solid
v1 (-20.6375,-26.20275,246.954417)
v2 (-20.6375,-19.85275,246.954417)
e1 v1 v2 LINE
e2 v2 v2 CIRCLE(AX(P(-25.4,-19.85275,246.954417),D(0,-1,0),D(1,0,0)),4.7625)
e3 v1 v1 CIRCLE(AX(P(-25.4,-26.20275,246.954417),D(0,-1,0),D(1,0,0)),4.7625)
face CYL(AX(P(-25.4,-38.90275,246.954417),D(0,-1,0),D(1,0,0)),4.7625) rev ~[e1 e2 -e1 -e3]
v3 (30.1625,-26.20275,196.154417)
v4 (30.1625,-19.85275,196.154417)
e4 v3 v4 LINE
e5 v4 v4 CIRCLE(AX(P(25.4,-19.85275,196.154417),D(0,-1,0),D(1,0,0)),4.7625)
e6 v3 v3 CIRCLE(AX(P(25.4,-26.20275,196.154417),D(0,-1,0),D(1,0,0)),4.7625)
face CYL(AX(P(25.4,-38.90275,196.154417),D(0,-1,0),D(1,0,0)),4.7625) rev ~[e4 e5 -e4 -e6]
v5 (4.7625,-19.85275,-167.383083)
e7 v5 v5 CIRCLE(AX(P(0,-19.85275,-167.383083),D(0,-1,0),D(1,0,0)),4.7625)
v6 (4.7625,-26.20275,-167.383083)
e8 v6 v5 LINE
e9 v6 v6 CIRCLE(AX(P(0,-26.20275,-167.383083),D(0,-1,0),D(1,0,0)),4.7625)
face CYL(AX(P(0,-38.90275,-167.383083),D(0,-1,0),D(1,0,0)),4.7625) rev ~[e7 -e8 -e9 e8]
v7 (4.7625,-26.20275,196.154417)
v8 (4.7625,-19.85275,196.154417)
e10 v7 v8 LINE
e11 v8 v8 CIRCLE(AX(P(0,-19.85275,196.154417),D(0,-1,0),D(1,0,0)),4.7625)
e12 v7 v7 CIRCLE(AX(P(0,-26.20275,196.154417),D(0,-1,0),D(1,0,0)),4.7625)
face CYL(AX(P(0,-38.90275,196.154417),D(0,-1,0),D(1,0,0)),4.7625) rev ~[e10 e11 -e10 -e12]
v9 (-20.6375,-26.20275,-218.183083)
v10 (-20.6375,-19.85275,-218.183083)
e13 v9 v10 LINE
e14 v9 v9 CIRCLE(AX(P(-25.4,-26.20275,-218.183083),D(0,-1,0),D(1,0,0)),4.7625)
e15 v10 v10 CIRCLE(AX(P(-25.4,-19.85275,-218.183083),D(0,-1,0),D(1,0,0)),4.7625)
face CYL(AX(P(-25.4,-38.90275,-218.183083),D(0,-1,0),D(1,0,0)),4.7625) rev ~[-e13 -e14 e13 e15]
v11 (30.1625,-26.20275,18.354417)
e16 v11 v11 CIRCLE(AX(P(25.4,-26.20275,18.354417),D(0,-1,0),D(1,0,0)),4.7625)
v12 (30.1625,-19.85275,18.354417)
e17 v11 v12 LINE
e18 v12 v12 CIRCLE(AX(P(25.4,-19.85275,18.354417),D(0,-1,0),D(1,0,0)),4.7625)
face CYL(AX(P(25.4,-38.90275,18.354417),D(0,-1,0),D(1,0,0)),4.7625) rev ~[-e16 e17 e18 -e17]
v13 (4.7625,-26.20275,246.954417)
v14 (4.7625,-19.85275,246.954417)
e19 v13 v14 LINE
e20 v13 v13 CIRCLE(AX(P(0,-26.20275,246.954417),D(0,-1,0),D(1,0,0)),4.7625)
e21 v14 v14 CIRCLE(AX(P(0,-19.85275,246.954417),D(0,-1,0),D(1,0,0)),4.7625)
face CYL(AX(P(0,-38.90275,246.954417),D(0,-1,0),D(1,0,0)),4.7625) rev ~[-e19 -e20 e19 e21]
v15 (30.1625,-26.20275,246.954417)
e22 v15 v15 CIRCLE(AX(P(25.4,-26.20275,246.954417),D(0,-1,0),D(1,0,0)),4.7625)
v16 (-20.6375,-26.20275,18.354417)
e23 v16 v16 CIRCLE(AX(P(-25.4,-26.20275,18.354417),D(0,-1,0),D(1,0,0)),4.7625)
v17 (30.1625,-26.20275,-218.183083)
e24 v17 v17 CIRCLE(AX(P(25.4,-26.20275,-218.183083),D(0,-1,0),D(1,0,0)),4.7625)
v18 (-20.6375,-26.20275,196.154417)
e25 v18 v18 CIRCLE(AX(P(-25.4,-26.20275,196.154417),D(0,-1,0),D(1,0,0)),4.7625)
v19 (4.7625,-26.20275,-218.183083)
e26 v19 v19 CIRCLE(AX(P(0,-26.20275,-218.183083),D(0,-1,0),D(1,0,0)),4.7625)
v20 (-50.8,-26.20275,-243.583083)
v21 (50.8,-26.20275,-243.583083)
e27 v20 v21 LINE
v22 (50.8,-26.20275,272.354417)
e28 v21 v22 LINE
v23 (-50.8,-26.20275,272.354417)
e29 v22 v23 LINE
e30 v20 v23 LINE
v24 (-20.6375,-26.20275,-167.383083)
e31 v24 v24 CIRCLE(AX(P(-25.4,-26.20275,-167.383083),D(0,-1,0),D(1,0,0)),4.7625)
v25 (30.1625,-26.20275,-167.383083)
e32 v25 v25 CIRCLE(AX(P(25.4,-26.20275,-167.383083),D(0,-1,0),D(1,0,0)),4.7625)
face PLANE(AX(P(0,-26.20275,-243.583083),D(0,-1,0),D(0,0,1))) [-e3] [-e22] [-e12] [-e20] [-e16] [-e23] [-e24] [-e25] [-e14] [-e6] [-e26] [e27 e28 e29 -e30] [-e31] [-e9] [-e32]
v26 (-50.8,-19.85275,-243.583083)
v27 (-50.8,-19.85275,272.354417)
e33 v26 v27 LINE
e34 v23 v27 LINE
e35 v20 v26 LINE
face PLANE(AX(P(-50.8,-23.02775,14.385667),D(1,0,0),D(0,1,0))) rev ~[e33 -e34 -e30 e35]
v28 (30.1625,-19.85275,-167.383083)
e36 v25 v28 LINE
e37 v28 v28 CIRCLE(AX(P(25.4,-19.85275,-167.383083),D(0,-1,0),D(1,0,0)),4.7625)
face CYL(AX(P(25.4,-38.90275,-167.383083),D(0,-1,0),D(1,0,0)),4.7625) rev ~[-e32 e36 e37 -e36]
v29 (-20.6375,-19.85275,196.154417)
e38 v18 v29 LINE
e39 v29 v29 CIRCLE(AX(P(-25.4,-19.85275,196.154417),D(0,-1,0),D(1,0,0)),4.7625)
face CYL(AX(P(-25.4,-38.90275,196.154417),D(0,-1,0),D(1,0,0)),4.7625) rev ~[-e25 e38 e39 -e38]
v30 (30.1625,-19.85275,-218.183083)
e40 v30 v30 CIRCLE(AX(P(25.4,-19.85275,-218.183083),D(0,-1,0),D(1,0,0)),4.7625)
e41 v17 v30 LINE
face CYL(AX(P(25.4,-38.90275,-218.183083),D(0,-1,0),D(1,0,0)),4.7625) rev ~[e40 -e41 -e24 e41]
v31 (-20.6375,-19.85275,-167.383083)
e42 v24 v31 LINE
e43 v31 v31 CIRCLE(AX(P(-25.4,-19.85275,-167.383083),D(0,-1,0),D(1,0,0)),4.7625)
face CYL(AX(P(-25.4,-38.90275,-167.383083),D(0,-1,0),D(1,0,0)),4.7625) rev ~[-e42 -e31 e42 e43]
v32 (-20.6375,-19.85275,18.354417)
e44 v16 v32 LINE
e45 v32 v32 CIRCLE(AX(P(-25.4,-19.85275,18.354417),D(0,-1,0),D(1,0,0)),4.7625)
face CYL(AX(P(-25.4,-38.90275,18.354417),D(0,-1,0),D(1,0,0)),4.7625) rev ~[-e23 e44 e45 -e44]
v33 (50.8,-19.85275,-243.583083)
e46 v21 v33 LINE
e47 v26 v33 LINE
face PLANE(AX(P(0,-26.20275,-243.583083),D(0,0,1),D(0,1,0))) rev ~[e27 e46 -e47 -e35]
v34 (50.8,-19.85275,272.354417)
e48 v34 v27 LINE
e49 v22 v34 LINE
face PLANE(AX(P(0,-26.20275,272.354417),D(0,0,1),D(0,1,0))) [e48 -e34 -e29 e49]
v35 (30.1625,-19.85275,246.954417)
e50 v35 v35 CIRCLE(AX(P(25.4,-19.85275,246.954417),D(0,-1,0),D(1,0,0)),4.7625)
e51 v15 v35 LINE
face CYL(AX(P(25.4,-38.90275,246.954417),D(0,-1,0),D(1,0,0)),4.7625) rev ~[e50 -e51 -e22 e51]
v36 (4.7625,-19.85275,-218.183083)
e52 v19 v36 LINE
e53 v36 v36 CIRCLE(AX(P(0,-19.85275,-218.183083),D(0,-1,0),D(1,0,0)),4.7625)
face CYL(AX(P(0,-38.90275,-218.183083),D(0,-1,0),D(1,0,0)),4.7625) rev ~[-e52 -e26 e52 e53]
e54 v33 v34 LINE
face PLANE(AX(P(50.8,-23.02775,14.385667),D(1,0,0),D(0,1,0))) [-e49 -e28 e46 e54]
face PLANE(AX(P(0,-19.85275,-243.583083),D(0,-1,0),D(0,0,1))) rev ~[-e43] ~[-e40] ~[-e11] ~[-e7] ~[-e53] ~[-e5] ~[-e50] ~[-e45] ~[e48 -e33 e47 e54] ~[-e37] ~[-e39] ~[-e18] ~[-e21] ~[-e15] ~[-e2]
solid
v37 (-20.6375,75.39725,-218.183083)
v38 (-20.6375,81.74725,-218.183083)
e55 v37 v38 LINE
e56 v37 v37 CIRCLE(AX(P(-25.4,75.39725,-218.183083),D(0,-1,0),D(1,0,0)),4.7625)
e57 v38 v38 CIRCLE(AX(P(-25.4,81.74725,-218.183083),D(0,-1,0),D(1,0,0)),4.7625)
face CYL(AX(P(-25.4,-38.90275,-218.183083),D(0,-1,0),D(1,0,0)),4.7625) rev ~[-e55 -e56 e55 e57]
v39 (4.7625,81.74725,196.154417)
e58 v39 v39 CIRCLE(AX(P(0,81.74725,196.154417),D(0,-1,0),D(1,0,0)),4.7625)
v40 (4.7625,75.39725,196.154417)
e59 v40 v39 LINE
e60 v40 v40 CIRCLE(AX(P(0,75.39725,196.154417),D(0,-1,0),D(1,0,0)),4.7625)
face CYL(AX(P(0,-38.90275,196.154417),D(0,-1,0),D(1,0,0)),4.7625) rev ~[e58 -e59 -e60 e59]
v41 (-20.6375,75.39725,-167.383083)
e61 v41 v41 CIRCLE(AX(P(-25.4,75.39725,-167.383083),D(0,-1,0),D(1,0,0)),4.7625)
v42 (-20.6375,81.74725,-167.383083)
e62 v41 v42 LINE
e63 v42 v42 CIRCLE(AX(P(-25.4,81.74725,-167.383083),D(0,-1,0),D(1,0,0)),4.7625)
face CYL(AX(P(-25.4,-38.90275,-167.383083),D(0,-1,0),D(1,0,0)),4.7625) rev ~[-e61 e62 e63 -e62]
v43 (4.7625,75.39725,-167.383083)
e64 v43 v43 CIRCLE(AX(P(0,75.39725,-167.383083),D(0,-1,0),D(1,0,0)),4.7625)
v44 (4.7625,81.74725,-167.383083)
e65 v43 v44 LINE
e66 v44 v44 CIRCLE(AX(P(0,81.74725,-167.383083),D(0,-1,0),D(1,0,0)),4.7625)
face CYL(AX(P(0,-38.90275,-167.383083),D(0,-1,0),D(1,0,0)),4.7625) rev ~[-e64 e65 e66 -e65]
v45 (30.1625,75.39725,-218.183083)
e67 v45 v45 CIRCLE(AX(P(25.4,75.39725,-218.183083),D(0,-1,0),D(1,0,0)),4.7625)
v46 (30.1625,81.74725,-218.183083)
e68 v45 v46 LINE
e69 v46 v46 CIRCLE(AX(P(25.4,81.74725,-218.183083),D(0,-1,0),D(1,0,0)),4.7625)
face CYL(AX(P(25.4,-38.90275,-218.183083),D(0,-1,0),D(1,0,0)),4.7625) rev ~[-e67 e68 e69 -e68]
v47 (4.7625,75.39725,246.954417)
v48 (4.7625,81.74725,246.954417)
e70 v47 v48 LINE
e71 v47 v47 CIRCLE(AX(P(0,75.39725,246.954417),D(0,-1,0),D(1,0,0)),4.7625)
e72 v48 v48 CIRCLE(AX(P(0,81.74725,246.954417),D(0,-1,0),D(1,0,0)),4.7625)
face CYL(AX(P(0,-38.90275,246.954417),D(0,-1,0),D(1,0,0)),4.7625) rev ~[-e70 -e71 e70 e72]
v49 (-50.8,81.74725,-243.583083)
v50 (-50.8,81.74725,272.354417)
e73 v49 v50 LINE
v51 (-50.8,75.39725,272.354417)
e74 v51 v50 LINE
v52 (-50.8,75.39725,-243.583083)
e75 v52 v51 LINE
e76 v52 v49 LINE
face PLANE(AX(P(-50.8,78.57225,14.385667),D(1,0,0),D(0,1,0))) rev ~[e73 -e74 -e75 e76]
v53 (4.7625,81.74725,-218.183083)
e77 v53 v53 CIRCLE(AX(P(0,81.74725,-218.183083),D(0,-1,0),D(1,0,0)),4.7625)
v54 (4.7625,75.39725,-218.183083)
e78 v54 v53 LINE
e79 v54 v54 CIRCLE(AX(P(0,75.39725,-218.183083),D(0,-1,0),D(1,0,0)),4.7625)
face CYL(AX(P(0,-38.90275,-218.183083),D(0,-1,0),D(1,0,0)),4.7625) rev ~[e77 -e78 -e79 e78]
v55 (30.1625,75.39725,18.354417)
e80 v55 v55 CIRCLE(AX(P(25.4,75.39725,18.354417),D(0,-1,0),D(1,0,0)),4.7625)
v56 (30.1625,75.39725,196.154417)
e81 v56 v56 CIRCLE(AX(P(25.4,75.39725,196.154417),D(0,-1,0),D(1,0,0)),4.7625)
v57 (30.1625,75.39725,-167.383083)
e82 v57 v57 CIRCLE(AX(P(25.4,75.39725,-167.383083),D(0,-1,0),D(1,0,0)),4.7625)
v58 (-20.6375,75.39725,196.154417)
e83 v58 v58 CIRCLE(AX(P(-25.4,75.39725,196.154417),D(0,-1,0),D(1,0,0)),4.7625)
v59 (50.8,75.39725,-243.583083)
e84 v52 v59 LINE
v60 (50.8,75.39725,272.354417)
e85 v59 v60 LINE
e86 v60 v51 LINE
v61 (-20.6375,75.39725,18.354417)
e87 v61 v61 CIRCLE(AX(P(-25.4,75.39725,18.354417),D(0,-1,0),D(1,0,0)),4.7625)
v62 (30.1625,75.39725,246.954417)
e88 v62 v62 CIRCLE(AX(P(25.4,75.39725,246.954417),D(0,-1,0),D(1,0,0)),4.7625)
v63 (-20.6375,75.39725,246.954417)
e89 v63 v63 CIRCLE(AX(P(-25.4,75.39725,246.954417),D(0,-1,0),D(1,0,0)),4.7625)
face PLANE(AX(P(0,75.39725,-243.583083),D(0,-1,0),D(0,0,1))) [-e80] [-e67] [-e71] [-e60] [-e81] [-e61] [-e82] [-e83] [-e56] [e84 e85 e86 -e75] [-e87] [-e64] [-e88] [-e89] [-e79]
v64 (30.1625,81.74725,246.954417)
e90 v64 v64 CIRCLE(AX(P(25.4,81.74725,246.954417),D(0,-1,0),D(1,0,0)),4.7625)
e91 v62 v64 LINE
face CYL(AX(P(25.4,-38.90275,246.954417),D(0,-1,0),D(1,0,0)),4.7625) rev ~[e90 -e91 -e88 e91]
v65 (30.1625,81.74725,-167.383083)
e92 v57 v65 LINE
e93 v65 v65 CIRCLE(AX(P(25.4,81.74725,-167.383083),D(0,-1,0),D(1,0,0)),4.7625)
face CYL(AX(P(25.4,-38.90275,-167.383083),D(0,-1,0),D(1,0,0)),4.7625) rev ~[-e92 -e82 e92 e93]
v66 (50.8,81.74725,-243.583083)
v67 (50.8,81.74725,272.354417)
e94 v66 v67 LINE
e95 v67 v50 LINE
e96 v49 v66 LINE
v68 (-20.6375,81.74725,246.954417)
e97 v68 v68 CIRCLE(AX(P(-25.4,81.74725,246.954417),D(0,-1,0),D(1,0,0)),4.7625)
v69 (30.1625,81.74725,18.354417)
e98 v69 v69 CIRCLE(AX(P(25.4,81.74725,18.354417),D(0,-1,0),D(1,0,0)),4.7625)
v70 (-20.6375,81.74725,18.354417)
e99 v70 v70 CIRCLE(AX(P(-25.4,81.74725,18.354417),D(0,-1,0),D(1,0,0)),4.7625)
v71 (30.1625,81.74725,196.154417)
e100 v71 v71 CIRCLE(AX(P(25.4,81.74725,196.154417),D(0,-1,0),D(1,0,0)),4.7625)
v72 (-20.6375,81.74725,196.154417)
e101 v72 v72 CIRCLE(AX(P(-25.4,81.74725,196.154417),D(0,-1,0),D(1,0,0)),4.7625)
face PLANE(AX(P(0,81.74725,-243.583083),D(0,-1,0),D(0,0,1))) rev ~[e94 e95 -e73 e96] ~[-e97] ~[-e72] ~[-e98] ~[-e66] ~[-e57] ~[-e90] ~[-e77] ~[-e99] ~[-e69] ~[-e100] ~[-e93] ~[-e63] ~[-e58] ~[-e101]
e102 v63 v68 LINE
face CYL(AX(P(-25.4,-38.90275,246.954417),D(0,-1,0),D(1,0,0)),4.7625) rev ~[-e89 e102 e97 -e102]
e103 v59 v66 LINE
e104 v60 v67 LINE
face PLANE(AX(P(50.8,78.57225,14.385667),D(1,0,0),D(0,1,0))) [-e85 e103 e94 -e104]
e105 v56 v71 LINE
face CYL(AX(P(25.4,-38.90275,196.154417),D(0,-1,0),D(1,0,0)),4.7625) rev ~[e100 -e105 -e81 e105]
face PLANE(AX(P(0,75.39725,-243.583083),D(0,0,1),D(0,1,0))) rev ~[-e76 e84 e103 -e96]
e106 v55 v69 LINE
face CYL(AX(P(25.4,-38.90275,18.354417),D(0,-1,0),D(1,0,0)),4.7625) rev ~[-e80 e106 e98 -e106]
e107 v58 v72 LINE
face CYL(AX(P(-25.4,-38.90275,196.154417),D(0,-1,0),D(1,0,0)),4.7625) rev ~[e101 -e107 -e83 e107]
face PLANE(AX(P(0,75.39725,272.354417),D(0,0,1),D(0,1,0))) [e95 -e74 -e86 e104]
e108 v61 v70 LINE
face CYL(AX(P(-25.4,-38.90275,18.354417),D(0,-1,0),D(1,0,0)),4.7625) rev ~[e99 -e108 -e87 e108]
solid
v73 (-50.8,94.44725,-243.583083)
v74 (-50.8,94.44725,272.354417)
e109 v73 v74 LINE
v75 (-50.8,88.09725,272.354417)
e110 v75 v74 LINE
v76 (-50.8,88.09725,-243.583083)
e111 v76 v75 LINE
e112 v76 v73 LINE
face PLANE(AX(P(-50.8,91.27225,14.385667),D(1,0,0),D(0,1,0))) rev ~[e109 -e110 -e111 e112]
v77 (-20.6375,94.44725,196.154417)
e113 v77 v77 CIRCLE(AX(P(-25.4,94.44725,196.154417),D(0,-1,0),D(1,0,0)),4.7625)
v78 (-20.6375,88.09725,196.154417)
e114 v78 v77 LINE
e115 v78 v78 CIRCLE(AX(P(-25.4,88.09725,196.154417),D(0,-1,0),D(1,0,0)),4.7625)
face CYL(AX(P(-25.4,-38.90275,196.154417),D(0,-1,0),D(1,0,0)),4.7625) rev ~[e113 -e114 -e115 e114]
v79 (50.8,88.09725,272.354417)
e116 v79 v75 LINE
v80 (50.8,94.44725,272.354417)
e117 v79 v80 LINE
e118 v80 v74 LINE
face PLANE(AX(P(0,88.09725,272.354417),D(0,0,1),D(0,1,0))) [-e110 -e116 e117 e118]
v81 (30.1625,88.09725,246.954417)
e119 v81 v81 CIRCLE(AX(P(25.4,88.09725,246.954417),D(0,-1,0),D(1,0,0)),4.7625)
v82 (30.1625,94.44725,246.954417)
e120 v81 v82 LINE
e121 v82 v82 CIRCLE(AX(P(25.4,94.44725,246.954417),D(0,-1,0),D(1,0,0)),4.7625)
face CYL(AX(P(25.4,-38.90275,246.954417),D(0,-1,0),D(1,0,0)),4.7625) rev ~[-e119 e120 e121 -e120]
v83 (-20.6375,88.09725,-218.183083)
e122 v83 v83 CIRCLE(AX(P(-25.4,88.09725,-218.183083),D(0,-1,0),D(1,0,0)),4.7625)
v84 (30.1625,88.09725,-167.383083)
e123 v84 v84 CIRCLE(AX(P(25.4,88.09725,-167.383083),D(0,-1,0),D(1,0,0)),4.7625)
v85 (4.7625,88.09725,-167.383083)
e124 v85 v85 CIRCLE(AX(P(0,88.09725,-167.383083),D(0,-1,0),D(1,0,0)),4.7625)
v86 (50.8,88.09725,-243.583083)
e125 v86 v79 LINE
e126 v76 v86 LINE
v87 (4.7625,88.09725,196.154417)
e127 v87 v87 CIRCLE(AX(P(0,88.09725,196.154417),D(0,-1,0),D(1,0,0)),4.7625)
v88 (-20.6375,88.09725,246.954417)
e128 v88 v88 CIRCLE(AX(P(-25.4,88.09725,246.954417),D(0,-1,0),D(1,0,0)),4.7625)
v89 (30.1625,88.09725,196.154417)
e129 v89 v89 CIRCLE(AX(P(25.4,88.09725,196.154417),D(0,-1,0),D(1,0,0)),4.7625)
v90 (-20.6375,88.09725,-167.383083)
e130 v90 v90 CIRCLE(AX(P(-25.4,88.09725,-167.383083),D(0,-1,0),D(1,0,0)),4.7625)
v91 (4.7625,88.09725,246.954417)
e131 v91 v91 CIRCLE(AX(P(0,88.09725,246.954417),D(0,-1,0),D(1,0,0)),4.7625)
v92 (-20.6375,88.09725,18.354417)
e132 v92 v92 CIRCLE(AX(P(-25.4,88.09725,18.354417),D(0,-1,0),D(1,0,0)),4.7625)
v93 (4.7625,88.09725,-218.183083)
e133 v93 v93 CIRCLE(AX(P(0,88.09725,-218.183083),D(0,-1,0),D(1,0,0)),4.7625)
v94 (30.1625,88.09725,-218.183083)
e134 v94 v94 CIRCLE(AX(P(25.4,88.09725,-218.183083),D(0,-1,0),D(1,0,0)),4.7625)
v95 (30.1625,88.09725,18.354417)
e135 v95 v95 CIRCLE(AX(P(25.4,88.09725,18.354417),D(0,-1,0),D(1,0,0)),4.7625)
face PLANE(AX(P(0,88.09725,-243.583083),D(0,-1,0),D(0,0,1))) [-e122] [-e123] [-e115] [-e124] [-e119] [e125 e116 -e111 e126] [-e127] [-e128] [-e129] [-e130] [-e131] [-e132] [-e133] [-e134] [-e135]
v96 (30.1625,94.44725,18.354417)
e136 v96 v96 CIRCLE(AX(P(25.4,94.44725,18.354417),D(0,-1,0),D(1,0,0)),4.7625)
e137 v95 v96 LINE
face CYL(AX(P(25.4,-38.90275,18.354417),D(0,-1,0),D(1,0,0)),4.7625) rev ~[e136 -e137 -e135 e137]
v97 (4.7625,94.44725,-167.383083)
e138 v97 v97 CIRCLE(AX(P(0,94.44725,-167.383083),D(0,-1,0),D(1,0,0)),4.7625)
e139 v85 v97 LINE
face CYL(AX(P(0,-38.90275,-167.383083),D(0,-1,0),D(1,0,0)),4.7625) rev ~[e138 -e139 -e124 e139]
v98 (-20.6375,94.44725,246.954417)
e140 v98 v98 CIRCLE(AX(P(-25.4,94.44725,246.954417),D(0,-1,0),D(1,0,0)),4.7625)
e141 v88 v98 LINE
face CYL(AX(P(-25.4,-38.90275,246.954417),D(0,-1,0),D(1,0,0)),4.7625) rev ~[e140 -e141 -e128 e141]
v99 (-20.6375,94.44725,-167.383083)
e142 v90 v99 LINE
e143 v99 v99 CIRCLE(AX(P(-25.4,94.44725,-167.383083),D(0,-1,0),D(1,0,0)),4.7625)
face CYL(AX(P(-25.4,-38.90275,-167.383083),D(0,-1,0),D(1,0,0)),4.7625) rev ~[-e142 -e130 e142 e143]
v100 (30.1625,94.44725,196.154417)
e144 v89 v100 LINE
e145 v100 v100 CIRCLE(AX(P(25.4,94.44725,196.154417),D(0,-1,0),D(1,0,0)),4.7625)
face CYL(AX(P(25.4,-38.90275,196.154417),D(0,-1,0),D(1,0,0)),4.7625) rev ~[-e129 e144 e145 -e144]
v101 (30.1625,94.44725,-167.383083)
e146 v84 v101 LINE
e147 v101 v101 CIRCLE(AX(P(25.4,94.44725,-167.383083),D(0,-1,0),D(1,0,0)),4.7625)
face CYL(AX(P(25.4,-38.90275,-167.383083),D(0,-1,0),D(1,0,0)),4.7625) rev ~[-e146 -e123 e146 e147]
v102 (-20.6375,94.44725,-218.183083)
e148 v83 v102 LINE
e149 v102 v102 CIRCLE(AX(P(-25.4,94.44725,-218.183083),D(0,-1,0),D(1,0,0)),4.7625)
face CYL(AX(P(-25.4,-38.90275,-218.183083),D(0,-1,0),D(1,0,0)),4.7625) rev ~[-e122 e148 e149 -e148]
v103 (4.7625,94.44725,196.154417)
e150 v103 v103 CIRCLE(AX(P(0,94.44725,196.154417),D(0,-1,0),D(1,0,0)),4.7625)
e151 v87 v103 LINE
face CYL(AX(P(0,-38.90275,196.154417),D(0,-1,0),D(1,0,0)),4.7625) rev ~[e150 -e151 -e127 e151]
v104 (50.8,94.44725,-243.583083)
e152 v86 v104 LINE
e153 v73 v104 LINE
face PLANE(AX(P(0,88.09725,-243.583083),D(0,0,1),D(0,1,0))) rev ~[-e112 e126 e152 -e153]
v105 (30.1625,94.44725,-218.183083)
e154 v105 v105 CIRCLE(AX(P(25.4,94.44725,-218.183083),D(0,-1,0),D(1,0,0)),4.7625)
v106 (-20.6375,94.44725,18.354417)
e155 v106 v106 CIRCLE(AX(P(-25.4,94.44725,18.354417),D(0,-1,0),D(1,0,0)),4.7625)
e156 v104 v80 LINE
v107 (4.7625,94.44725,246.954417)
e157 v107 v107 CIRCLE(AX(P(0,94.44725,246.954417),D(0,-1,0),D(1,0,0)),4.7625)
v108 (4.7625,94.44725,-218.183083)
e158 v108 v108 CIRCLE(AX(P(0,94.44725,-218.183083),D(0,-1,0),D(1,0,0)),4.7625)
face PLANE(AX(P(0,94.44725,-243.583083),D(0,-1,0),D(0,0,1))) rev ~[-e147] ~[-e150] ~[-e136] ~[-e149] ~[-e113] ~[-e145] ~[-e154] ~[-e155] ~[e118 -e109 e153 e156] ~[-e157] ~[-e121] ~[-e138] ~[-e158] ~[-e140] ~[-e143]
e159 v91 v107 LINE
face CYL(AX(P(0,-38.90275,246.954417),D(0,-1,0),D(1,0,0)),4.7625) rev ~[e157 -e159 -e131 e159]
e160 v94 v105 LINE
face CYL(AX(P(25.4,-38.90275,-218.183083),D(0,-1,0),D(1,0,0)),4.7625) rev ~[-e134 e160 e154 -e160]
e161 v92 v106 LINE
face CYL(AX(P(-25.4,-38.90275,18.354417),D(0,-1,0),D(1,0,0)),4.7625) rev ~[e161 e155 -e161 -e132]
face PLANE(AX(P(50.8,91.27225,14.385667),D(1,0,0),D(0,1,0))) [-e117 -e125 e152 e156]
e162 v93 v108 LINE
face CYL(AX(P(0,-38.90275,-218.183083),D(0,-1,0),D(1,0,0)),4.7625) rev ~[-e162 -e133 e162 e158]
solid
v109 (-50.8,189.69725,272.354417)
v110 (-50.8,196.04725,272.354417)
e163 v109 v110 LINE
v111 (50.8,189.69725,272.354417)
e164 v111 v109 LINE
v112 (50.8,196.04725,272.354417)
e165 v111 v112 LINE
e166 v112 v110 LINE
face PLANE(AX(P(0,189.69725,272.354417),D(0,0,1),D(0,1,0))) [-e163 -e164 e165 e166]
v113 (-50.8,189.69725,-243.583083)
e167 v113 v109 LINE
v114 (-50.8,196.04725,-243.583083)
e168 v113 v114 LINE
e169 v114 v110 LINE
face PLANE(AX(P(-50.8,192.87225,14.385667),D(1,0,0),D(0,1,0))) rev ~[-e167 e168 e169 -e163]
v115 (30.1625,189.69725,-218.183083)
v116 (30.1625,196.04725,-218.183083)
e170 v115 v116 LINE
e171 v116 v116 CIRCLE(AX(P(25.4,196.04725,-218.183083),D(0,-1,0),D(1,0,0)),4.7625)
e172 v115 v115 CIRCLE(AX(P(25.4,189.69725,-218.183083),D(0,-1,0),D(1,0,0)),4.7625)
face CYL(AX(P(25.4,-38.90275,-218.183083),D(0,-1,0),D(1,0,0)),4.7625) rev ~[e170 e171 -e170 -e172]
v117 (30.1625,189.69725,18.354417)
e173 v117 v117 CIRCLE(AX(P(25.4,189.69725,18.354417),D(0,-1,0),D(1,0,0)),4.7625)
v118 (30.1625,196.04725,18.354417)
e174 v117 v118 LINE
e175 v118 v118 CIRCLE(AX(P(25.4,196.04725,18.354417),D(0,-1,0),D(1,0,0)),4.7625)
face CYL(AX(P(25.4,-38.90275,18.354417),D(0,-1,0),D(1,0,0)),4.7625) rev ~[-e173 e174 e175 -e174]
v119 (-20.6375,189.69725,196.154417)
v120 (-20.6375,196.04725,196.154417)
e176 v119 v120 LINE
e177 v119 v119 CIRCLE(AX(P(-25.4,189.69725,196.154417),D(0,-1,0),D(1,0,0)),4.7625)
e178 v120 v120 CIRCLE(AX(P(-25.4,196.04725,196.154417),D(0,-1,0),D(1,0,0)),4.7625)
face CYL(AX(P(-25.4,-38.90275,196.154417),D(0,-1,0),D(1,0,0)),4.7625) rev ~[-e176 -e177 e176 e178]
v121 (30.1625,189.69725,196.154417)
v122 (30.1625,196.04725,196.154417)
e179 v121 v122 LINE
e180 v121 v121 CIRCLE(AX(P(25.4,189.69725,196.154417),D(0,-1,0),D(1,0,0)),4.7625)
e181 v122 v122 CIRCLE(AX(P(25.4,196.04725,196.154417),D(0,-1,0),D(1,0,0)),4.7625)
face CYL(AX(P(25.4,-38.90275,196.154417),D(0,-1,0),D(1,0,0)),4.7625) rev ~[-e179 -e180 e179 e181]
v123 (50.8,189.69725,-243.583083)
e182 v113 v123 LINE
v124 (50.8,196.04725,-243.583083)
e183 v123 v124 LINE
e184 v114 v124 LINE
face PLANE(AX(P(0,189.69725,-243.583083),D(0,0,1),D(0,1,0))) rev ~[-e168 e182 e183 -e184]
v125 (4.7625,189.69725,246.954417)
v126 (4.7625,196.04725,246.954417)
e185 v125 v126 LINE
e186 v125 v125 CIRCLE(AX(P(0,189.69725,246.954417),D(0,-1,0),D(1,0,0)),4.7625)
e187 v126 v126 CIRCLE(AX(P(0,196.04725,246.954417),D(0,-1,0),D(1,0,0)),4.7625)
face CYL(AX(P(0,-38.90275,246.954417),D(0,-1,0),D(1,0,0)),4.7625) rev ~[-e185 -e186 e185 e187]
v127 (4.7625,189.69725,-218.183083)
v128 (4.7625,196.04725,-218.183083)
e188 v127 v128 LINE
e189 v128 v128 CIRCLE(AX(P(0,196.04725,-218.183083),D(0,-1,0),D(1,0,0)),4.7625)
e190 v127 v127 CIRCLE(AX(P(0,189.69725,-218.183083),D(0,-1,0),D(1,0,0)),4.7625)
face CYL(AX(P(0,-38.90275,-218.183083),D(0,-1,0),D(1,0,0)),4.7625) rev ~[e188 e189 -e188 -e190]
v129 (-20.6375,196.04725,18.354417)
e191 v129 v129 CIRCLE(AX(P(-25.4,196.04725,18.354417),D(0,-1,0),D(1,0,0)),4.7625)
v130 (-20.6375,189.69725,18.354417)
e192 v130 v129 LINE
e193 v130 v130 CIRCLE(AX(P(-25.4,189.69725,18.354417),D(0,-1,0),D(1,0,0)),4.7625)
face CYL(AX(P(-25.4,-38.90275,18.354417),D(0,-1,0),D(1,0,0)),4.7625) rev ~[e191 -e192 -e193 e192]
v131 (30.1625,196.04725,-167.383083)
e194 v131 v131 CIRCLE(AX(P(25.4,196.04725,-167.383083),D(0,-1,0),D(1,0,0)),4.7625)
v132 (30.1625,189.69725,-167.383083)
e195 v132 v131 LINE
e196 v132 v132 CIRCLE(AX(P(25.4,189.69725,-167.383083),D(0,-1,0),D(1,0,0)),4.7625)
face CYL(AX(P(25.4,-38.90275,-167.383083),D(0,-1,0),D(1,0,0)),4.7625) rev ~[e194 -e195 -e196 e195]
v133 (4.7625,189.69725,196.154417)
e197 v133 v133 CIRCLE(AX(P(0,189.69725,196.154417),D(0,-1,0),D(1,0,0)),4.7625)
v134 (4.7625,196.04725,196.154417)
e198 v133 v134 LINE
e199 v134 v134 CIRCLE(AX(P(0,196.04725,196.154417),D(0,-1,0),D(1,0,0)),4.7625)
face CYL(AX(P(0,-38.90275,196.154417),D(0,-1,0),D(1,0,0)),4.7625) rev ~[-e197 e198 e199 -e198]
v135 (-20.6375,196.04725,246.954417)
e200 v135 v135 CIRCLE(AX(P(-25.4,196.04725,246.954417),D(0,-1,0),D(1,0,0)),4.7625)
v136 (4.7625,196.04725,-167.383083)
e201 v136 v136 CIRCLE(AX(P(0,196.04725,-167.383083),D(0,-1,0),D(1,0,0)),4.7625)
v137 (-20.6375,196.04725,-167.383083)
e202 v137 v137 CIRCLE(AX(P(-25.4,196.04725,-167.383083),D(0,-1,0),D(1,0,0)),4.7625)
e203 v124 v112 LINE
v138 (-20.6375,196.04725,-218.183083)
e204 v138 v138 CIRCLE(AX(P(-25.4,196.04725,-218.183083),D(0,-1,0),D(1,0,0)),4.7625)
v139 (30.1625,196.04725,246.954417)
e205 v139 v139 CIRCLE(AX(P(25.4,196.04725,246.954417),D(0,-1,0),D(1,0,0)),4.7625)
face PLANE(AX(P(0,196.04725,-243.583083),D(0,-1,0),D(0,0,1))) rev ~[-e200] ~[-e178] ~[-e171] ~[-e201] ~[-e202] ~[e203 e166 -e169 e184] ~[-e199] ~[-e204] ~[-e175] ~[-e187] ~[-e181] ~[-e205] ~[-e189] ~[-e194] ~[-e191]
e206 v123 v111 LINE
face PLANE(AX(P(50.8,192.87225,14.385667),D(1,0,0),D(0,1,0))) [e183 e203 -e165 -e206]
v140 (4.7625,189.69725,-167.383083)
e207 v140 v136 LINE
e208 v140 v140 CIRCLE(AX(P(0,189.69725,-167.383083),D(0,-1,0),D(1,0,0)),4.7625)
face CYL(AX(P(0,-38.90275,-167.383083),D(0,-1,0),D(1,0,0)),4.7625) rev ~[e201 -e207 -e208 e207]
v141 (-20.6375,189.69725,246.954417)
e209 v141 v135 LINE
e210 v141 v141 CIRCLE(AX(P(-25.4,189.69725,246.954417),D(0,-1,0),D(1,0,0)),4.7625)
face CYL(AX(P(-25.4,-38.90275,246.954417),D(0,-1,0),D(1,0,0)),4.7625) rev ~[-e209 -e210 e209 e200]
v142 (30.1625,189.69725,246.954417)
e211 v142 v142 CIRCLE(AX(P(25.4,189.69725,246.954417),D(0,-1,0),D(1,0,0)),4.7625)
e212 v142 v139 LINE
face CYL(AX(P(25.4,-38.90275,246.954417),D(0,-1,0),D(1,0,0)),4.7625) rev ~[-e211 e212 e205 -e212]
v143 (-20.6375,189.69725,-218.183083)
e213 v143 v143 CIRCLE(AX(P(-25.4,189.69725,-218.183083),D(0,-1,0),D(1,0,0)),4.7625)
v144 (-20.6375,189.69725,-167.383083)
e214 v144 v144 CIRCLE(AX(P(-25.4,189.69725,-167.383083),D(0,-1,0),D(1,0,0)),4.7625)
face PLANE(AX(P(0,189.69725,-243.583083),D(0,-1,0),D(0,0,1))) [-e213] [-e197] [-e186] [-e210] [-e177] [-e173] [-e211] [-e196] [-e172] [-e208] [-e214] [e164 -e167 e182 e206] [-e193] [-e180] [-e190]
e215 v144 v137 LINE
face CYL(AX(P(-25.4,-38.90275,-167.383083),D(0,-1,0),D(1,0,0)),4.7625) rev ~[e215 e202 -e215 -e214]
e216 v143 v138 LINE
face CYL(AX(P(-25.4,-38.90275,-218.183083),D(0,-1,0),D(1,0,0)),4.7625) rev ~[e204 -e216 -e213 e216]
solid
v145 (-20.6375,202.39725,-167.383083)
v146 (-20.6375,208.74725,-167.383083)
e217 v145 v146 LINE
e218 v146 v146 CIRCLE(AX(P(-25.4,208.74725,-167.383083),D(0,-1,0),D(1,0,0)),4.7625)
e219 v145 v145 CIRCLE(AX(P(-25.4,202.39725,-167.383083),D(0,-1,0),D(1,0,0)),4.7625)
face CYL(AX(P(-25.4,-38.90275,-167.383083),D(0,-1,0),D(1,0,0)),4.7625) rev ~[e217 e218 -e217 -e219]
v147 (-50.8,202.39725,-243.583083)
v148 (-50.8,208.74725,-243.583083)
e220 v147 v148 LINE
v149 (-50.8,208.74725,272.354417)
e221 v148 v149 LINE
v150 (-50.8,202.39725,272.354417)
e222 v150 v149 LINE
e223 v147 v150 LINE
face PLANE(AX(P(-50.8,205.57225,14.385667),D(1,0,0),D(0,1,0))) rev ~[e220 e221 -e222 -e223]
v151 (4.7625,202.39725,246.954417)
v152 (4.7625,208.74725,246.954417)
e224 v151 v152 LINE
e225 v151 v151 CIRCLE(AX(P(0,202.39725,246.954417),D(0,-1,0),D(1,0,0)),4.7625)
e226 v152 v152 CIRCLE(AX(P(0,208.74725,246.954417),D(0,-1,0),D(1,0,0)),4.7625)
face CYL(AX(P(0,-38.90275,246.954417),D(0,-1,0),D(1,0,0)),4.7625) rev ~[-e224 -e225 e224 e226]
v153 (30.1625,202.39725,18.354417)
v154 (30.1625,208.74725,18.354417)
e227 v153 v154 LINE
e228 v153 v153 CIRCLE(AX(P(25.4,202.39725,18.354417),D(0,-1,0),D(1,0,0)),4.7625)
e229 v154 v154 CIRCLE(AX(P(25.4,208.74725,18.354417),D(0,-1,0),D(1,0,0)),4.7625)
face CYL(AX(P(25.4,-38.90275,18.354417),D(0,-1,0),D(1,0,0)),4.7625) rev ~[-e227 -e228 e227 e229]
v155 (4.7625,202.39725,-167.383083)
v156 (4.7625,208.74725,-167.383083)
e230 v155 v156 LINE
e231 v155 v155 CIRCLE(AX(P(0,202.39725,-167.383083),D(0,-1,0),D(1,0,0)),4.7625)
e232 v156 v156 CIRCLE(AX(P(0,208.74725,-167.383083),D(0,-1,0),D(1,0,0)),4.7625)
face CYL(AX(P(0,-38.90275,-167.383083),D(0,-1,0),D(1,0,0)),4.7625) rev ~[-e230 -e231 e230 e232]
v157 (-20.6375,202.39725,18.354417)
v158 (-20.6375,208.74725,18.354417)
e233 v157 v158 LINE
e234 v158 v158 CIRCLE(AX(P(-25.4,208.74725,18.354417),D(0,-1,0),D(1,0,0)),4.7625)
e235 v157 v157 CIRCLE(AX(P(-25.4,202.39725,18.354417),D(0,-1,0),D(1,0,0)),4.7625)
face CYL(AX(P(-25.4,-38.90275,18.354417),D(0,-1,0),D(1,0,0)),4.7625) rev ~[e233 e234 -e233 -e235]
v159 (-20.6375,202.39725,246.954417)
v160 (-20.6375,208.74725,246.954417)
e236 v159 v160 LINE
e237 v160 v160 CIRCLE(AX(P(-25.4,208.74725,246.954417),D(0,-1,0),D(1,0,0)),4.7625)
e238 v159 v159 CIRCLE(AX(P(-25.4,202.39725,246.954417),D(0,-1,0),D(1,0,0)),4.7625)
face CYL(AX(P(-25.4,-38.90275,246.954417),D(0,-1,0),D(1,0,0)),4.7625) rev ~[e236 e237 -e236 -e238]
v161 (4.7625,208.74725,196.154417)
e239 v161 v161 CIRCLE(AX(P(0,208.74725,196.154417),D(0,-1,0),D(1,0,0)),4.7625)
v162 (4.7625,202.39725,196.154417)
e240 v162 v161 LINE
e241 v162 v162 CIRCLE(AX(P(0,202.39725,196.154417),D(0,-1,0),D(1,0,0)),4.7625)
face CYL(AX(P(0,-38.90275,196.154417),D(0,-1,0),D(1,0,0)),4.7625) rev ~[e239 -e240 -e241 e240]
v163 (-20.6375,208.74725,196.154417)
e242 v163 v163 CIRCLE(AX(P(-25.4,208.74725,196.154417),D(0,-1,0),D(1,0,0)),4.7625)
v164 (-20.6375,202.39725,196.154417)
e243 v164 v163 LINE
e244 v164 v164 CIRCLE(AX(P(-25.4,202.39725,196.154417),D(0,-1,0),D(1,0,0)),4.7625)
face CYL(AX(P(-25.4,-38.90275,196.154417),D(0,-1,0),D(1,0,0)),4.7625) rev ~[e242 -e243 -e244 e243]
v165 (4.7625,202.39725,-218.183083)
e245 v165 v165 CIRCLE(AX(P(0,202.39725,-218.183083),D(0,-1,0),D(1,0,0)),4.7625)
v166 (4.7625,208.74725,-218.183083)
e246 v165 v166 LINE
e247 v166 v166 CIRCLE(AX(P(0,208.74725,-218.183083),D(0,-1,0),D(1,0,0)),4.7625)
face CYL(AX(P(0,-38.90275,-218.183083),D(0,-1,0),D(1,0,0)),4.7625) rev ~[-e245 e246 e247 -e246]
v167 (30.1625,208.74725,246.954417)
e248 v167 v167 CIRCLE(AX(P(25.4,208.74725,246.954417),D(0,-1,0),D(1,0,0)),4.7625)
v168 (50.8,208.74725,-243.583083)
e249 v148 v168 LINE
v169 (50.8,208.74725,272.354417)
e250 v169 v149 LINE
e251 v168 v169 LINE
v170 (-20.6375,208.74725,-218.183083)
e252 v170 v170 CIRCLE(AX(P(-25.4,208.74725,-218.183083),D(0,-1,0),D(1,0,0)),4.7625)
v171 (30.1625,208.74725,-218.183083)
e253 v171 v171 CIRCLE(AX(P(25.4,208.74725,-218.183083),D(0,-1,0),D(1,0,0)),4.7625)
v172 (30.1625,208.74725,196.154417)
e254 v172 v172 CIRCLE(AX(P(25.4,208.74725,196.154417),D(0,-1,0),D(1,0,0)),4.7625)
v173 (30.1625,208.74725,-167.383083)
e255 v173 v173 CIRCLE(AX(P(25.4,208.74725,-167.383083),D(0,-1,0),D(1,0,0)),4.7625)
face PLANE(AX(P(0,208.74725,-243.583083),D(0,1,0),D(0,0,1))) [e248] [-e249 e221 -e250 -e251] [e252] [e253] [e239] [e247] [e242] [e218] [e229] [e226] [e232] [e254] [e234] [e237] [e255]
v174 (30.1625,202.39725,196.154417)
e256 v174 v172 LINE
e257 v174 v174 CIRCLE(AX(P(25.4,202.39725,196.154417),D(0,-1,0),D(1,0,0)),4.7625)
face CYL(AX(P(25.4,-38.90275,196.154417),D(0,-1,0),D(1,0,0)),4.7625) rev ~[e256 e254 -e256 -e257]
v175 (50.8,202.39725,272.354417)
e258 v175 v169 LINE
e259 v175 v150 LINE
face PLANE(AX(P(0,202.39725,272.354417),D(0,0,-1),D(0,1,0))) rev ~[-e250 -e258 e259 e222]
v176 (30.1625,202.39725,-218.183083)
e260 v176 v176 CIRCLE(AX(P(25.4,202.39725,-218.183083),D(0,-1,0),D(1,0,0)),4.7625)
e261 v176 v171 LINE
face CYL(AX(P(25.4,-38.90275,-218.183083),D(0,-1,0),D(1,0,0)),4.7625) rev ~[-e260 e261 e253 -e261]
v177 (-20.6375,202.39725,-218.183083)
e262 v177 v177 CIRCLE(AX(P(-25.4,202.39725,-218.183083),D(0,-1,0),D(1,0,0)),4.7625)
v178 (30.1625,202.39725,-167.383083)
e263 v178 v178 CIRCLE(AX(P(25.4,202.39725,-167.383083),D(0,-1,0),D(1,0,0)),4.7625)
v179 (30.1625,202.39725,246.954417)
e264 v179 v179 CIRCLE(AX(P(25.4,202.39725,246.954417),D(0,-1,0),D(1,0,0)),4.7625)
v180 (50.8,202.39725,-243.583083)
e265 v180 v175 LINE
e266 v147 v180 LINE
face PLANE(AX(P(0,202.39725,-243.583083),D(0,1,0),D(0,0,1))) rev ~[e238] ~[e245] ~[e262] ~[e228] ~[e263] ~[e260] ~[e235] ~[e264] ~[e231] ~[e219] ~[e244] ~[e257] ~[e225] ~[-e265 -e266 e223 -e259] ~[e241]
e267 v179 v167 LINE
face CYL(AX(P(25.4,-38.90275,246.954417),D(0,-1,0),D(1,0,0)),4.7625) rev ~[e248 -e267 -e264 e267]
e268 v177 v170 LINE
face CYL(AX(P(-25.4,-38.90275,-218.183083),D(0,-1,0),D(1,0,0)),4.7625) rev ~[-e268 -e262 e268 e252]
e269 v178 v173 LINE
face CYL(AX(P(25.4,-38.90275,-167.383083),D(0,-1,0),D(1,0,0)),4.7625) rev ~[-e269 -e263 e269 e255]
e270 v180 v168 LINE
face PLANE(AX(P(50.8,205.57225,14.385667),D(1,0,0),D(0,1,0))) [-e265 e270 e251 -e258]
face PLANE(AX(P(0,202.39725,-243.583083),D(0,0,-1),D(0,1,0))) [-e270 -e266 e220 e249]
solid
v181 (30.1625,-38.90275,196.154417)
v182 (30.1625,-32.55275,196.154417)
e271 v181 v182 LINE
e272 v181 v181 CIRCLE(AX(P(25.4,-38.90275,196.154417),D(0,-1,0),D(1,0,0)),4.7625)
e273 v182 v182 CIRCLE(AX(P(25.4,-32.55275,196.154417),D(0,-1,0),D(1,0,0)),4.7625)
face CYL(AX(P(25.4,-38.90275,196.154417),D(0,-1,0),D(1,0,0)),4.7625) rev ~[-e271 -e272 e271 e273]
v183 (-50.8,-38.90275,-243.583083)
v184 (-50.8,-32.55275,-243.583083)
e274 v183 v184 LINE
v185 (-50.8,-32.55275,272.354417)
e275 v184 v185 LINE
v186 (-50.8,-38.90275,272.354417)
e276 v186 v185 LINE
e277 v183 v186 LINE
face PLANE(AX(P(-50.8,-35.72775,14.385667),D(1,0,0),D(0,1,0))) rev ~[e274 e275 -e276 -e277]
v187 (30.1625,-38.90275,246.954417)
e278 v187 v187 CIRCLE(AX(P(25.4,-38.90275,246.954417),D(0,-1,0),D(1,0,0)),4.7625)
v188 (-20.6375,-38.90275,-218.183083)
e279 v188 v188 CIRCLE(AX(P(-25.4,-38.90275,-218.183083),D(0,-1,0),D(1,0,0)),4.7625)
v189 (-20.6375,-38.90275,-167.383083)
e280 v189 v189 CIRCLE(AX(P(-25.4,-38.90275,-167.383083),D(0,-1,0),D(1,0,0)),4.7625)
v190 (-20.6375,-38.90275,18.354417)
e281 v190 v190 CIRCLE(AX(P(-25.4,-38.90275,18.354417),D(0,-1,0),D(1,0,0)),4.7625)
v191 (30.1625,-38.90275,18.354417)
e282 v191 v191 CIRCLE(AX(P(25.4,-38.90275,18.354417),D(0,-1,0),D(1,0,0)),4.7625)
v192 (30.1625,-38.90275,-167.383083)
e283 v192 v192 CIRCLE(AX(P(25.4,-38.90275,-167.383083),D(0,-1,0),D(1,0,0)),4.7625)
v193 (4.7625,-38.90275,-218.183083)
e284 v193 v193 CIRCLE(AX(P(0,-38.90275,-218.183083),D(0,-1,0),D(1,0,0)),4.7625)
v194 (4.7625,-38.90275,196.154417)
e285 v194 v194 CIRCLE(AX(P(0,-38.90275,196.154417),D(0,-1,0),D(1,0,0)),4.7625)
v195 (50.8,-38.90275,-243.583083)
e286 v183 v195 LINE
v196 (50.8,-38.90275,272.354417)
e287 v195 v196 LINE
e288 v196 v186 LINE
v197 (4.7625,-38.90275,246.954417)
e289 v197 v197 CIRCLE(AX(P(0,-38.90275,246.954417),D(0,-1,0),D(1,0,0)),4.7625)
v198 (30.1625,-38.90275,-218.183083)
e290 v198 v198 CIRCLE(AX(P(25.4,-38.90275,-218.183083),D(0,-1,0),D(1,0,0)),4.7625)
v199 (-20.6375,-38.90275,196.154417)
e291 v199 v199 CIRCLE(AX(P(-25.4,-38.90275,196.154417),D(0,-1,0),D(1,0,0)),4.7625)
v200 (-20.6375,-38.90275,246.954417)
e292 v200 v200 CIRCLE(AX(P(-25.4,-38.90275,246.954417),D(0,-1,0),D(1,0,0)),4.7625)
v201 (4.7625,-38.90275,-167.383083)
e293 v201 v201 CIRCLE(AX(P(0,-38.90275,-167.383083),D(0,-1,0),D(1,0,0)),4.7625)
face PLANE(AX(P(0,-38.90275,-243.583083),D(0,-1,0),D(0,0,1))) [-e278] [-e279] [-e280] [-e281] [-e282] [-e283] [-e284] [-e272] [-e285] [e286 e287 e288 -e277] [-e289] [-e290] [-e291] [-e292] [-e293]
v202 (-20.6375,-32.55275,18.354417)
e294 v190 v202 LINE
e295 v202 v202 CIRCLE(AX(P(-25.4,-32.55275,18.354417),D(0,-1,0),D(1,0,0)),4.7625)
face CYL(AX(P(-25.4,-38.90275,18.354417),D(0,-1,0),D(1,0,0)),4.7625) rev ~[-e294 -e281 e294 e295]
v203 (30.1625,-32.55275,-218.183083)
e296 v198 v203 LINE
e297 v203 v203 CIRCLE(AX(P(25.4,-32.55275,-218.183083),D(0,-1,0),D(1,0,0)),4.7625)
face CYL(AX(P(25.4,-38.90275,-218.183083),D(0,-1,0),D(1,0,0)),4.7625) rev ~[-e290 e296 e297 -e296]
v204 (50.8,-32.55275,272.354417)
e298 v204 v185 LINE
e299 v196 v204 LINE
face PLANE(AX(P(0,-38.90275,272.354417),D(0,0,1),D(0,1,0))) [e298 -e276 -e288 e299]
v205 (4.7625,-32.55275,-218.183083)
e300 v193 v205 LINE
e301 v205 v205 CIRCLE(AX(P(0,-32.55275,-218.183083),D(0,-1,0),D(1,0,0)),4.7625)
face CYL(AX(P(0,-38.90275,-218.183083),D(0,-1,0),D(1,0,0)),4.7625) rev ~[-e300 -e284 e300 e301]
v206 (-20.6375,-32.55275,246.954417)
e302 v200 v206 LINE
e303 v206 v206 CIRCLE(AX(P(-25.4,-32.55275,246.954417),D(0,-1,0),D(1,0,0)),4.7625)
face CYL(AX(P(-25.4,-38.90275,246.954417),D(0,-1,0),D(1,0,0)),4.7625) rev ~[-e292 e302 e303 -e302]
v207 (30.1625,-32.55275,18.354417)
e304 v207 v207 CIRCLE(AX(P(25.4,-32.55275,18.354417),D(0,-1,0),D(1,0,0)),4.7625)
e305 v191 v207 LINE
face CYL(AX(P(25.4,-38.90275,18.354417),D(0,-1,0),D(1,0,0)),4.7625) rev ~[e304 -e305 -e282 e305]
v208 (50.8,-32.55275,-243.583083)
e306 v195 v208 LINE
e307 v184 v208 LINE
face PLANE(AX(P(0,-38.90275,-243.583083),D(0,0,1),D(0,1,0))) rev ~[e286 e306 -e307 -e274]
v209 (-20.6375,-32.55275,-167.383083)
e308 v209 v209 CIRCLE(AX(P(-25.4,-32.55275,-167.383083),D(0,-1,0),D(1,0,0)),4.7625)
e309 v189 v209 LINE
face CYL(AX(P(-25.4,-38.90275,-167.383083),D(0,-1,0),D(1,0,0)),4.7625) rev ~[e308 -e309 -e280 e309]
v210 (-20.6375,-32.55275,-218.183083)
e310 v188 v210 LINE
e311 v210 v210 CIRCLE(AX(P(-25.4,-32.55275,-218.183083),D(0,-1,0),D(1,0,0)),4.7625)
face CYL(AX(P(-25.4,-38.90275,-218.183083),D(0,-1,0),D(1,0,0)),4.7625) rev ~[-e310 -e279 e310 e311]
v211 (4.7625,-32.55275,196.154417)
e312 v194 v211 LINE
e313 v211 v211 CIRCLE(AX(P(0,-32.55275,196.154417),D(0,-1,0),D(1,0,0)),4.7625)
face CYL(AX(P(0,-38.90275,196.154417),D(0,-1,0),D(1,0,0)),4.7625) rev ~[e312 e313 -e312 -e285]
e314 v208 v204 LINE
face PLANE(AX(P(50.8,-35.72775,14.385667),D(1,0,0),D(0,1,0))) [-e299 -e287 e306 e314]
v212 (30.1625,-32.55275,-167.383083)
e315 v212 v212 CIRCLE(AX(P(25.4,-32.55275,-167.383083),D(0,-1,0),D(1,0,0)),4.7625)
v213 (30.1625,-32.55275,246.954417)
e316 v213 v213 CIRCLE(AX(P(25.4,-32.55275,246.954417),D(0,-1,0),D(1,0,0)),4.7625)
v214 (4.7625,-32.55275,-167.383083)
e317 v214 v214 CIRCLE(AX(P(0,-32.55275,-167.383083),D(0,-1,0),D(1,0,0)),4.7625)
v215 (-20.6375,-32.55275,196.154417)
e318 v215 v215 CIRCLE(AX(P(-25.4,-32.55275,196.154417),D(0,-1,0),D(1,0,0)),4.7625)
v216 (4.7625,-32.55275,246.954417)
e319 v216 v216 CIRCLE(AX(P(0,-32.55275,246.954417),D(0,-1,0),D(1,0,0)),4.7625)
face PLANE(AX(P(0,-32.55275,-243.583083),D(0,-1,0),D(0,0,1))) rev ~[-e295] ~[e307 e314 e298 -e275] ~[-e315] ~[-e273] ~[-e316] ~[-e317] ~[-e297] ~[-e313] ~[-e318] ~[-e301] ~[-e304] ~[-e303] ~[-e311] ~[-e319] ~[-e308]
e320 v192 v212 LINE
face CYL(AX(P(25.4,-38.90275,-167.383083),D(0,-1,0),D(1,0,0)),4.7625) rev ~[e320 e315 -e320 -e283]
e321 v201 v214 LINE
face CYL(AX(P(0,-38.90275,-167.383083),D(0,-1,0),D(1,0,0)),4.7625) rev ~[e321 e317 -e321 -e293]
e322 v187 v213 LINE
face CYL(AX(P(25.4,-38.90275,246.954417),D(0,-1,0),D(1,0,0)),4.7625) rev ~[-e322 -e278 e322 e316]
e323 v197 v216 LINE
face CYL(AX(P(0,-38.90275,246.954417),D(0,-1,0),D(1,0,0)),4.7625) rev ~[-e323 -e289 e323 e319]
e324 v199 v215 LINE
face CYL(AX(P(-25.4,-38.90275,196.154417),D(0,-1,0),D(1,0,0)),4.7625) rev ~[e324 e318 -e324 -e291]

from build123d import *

# Parameters (mm, degrees)
F0_W     = 6.35
F0_H     = 515.9375
F1_DEPTH = 50.8
F2_R     = 4.7625
F3_DEPTH = 247.651


with BuildPart() as f1:
    # F0 (on Right) → F1 (new body, symmetric)
    with BuildSketch(Plane.YZ):
        with Locations((-35.72775, 14.385667)):
            Rectangle(F0_W, F0_H)
        with Locations((-23.02775, 14.385667)):
            Rectangle(F0_W, F0_H)
        with Locations((78.57225, 14.385667)):
            Rectangle(F0_W, F0_H)
        with Locations((91.27225, 14.385667)):
            Rectangle(F0_W, F0_H)
        with Locations((192.87225, 14.385667)):
            Rectangle(F0_W, F0_H)
        with Locations((205.57225, 14.385667)):
            Rectangle(F0_W, F0_H)
    extrude(amount=F1_DEPTH, both=True)

    # F2 (on face) → F3 (cut, through all)
    with BuildSketch(Plane.XZ.offset(38.90275)):
        with Locations((-25.4, 246.954417)):
            Circle(F2_R)
        with Locations((-25.4, -218.183083)):
            Circle(F2_R)
        with Locations((-25.4, 196.154417)):
            Circle(F2_R)
        with Locations((0, 246.954417)):
            Circle(F2_R)
        with Locations((0, 196.154417)):
            Circle(F2_R)
        with Locations((25.4, 246.954417)):
            Circle(F2_R)
        with Locations((25.4, 196.154417)):
            Circle(F2_R)
        with Locations((-25.4, -167.383083)):
            Circle(F2_R)
        with Locations((0, -218.183083)):
            Circle(F2_R)
        with Locations((0, -167.383083)):
            Circle(F2_R)
        with Locations((25.4, -218.183083)):
            Circle(F2_R)
        with Locations((25.4, -167.383083)):
            Circle(F2_R)
        with Locations((25.4, 18.354417)):
            Circle(F2_R)
        with Locations((-25.4, 18.354417)):
            Circle(F2_R)
    extrude(amount=-F3_DEPTH, mode=Mode.SUBTRACT)


solid = f1.part
